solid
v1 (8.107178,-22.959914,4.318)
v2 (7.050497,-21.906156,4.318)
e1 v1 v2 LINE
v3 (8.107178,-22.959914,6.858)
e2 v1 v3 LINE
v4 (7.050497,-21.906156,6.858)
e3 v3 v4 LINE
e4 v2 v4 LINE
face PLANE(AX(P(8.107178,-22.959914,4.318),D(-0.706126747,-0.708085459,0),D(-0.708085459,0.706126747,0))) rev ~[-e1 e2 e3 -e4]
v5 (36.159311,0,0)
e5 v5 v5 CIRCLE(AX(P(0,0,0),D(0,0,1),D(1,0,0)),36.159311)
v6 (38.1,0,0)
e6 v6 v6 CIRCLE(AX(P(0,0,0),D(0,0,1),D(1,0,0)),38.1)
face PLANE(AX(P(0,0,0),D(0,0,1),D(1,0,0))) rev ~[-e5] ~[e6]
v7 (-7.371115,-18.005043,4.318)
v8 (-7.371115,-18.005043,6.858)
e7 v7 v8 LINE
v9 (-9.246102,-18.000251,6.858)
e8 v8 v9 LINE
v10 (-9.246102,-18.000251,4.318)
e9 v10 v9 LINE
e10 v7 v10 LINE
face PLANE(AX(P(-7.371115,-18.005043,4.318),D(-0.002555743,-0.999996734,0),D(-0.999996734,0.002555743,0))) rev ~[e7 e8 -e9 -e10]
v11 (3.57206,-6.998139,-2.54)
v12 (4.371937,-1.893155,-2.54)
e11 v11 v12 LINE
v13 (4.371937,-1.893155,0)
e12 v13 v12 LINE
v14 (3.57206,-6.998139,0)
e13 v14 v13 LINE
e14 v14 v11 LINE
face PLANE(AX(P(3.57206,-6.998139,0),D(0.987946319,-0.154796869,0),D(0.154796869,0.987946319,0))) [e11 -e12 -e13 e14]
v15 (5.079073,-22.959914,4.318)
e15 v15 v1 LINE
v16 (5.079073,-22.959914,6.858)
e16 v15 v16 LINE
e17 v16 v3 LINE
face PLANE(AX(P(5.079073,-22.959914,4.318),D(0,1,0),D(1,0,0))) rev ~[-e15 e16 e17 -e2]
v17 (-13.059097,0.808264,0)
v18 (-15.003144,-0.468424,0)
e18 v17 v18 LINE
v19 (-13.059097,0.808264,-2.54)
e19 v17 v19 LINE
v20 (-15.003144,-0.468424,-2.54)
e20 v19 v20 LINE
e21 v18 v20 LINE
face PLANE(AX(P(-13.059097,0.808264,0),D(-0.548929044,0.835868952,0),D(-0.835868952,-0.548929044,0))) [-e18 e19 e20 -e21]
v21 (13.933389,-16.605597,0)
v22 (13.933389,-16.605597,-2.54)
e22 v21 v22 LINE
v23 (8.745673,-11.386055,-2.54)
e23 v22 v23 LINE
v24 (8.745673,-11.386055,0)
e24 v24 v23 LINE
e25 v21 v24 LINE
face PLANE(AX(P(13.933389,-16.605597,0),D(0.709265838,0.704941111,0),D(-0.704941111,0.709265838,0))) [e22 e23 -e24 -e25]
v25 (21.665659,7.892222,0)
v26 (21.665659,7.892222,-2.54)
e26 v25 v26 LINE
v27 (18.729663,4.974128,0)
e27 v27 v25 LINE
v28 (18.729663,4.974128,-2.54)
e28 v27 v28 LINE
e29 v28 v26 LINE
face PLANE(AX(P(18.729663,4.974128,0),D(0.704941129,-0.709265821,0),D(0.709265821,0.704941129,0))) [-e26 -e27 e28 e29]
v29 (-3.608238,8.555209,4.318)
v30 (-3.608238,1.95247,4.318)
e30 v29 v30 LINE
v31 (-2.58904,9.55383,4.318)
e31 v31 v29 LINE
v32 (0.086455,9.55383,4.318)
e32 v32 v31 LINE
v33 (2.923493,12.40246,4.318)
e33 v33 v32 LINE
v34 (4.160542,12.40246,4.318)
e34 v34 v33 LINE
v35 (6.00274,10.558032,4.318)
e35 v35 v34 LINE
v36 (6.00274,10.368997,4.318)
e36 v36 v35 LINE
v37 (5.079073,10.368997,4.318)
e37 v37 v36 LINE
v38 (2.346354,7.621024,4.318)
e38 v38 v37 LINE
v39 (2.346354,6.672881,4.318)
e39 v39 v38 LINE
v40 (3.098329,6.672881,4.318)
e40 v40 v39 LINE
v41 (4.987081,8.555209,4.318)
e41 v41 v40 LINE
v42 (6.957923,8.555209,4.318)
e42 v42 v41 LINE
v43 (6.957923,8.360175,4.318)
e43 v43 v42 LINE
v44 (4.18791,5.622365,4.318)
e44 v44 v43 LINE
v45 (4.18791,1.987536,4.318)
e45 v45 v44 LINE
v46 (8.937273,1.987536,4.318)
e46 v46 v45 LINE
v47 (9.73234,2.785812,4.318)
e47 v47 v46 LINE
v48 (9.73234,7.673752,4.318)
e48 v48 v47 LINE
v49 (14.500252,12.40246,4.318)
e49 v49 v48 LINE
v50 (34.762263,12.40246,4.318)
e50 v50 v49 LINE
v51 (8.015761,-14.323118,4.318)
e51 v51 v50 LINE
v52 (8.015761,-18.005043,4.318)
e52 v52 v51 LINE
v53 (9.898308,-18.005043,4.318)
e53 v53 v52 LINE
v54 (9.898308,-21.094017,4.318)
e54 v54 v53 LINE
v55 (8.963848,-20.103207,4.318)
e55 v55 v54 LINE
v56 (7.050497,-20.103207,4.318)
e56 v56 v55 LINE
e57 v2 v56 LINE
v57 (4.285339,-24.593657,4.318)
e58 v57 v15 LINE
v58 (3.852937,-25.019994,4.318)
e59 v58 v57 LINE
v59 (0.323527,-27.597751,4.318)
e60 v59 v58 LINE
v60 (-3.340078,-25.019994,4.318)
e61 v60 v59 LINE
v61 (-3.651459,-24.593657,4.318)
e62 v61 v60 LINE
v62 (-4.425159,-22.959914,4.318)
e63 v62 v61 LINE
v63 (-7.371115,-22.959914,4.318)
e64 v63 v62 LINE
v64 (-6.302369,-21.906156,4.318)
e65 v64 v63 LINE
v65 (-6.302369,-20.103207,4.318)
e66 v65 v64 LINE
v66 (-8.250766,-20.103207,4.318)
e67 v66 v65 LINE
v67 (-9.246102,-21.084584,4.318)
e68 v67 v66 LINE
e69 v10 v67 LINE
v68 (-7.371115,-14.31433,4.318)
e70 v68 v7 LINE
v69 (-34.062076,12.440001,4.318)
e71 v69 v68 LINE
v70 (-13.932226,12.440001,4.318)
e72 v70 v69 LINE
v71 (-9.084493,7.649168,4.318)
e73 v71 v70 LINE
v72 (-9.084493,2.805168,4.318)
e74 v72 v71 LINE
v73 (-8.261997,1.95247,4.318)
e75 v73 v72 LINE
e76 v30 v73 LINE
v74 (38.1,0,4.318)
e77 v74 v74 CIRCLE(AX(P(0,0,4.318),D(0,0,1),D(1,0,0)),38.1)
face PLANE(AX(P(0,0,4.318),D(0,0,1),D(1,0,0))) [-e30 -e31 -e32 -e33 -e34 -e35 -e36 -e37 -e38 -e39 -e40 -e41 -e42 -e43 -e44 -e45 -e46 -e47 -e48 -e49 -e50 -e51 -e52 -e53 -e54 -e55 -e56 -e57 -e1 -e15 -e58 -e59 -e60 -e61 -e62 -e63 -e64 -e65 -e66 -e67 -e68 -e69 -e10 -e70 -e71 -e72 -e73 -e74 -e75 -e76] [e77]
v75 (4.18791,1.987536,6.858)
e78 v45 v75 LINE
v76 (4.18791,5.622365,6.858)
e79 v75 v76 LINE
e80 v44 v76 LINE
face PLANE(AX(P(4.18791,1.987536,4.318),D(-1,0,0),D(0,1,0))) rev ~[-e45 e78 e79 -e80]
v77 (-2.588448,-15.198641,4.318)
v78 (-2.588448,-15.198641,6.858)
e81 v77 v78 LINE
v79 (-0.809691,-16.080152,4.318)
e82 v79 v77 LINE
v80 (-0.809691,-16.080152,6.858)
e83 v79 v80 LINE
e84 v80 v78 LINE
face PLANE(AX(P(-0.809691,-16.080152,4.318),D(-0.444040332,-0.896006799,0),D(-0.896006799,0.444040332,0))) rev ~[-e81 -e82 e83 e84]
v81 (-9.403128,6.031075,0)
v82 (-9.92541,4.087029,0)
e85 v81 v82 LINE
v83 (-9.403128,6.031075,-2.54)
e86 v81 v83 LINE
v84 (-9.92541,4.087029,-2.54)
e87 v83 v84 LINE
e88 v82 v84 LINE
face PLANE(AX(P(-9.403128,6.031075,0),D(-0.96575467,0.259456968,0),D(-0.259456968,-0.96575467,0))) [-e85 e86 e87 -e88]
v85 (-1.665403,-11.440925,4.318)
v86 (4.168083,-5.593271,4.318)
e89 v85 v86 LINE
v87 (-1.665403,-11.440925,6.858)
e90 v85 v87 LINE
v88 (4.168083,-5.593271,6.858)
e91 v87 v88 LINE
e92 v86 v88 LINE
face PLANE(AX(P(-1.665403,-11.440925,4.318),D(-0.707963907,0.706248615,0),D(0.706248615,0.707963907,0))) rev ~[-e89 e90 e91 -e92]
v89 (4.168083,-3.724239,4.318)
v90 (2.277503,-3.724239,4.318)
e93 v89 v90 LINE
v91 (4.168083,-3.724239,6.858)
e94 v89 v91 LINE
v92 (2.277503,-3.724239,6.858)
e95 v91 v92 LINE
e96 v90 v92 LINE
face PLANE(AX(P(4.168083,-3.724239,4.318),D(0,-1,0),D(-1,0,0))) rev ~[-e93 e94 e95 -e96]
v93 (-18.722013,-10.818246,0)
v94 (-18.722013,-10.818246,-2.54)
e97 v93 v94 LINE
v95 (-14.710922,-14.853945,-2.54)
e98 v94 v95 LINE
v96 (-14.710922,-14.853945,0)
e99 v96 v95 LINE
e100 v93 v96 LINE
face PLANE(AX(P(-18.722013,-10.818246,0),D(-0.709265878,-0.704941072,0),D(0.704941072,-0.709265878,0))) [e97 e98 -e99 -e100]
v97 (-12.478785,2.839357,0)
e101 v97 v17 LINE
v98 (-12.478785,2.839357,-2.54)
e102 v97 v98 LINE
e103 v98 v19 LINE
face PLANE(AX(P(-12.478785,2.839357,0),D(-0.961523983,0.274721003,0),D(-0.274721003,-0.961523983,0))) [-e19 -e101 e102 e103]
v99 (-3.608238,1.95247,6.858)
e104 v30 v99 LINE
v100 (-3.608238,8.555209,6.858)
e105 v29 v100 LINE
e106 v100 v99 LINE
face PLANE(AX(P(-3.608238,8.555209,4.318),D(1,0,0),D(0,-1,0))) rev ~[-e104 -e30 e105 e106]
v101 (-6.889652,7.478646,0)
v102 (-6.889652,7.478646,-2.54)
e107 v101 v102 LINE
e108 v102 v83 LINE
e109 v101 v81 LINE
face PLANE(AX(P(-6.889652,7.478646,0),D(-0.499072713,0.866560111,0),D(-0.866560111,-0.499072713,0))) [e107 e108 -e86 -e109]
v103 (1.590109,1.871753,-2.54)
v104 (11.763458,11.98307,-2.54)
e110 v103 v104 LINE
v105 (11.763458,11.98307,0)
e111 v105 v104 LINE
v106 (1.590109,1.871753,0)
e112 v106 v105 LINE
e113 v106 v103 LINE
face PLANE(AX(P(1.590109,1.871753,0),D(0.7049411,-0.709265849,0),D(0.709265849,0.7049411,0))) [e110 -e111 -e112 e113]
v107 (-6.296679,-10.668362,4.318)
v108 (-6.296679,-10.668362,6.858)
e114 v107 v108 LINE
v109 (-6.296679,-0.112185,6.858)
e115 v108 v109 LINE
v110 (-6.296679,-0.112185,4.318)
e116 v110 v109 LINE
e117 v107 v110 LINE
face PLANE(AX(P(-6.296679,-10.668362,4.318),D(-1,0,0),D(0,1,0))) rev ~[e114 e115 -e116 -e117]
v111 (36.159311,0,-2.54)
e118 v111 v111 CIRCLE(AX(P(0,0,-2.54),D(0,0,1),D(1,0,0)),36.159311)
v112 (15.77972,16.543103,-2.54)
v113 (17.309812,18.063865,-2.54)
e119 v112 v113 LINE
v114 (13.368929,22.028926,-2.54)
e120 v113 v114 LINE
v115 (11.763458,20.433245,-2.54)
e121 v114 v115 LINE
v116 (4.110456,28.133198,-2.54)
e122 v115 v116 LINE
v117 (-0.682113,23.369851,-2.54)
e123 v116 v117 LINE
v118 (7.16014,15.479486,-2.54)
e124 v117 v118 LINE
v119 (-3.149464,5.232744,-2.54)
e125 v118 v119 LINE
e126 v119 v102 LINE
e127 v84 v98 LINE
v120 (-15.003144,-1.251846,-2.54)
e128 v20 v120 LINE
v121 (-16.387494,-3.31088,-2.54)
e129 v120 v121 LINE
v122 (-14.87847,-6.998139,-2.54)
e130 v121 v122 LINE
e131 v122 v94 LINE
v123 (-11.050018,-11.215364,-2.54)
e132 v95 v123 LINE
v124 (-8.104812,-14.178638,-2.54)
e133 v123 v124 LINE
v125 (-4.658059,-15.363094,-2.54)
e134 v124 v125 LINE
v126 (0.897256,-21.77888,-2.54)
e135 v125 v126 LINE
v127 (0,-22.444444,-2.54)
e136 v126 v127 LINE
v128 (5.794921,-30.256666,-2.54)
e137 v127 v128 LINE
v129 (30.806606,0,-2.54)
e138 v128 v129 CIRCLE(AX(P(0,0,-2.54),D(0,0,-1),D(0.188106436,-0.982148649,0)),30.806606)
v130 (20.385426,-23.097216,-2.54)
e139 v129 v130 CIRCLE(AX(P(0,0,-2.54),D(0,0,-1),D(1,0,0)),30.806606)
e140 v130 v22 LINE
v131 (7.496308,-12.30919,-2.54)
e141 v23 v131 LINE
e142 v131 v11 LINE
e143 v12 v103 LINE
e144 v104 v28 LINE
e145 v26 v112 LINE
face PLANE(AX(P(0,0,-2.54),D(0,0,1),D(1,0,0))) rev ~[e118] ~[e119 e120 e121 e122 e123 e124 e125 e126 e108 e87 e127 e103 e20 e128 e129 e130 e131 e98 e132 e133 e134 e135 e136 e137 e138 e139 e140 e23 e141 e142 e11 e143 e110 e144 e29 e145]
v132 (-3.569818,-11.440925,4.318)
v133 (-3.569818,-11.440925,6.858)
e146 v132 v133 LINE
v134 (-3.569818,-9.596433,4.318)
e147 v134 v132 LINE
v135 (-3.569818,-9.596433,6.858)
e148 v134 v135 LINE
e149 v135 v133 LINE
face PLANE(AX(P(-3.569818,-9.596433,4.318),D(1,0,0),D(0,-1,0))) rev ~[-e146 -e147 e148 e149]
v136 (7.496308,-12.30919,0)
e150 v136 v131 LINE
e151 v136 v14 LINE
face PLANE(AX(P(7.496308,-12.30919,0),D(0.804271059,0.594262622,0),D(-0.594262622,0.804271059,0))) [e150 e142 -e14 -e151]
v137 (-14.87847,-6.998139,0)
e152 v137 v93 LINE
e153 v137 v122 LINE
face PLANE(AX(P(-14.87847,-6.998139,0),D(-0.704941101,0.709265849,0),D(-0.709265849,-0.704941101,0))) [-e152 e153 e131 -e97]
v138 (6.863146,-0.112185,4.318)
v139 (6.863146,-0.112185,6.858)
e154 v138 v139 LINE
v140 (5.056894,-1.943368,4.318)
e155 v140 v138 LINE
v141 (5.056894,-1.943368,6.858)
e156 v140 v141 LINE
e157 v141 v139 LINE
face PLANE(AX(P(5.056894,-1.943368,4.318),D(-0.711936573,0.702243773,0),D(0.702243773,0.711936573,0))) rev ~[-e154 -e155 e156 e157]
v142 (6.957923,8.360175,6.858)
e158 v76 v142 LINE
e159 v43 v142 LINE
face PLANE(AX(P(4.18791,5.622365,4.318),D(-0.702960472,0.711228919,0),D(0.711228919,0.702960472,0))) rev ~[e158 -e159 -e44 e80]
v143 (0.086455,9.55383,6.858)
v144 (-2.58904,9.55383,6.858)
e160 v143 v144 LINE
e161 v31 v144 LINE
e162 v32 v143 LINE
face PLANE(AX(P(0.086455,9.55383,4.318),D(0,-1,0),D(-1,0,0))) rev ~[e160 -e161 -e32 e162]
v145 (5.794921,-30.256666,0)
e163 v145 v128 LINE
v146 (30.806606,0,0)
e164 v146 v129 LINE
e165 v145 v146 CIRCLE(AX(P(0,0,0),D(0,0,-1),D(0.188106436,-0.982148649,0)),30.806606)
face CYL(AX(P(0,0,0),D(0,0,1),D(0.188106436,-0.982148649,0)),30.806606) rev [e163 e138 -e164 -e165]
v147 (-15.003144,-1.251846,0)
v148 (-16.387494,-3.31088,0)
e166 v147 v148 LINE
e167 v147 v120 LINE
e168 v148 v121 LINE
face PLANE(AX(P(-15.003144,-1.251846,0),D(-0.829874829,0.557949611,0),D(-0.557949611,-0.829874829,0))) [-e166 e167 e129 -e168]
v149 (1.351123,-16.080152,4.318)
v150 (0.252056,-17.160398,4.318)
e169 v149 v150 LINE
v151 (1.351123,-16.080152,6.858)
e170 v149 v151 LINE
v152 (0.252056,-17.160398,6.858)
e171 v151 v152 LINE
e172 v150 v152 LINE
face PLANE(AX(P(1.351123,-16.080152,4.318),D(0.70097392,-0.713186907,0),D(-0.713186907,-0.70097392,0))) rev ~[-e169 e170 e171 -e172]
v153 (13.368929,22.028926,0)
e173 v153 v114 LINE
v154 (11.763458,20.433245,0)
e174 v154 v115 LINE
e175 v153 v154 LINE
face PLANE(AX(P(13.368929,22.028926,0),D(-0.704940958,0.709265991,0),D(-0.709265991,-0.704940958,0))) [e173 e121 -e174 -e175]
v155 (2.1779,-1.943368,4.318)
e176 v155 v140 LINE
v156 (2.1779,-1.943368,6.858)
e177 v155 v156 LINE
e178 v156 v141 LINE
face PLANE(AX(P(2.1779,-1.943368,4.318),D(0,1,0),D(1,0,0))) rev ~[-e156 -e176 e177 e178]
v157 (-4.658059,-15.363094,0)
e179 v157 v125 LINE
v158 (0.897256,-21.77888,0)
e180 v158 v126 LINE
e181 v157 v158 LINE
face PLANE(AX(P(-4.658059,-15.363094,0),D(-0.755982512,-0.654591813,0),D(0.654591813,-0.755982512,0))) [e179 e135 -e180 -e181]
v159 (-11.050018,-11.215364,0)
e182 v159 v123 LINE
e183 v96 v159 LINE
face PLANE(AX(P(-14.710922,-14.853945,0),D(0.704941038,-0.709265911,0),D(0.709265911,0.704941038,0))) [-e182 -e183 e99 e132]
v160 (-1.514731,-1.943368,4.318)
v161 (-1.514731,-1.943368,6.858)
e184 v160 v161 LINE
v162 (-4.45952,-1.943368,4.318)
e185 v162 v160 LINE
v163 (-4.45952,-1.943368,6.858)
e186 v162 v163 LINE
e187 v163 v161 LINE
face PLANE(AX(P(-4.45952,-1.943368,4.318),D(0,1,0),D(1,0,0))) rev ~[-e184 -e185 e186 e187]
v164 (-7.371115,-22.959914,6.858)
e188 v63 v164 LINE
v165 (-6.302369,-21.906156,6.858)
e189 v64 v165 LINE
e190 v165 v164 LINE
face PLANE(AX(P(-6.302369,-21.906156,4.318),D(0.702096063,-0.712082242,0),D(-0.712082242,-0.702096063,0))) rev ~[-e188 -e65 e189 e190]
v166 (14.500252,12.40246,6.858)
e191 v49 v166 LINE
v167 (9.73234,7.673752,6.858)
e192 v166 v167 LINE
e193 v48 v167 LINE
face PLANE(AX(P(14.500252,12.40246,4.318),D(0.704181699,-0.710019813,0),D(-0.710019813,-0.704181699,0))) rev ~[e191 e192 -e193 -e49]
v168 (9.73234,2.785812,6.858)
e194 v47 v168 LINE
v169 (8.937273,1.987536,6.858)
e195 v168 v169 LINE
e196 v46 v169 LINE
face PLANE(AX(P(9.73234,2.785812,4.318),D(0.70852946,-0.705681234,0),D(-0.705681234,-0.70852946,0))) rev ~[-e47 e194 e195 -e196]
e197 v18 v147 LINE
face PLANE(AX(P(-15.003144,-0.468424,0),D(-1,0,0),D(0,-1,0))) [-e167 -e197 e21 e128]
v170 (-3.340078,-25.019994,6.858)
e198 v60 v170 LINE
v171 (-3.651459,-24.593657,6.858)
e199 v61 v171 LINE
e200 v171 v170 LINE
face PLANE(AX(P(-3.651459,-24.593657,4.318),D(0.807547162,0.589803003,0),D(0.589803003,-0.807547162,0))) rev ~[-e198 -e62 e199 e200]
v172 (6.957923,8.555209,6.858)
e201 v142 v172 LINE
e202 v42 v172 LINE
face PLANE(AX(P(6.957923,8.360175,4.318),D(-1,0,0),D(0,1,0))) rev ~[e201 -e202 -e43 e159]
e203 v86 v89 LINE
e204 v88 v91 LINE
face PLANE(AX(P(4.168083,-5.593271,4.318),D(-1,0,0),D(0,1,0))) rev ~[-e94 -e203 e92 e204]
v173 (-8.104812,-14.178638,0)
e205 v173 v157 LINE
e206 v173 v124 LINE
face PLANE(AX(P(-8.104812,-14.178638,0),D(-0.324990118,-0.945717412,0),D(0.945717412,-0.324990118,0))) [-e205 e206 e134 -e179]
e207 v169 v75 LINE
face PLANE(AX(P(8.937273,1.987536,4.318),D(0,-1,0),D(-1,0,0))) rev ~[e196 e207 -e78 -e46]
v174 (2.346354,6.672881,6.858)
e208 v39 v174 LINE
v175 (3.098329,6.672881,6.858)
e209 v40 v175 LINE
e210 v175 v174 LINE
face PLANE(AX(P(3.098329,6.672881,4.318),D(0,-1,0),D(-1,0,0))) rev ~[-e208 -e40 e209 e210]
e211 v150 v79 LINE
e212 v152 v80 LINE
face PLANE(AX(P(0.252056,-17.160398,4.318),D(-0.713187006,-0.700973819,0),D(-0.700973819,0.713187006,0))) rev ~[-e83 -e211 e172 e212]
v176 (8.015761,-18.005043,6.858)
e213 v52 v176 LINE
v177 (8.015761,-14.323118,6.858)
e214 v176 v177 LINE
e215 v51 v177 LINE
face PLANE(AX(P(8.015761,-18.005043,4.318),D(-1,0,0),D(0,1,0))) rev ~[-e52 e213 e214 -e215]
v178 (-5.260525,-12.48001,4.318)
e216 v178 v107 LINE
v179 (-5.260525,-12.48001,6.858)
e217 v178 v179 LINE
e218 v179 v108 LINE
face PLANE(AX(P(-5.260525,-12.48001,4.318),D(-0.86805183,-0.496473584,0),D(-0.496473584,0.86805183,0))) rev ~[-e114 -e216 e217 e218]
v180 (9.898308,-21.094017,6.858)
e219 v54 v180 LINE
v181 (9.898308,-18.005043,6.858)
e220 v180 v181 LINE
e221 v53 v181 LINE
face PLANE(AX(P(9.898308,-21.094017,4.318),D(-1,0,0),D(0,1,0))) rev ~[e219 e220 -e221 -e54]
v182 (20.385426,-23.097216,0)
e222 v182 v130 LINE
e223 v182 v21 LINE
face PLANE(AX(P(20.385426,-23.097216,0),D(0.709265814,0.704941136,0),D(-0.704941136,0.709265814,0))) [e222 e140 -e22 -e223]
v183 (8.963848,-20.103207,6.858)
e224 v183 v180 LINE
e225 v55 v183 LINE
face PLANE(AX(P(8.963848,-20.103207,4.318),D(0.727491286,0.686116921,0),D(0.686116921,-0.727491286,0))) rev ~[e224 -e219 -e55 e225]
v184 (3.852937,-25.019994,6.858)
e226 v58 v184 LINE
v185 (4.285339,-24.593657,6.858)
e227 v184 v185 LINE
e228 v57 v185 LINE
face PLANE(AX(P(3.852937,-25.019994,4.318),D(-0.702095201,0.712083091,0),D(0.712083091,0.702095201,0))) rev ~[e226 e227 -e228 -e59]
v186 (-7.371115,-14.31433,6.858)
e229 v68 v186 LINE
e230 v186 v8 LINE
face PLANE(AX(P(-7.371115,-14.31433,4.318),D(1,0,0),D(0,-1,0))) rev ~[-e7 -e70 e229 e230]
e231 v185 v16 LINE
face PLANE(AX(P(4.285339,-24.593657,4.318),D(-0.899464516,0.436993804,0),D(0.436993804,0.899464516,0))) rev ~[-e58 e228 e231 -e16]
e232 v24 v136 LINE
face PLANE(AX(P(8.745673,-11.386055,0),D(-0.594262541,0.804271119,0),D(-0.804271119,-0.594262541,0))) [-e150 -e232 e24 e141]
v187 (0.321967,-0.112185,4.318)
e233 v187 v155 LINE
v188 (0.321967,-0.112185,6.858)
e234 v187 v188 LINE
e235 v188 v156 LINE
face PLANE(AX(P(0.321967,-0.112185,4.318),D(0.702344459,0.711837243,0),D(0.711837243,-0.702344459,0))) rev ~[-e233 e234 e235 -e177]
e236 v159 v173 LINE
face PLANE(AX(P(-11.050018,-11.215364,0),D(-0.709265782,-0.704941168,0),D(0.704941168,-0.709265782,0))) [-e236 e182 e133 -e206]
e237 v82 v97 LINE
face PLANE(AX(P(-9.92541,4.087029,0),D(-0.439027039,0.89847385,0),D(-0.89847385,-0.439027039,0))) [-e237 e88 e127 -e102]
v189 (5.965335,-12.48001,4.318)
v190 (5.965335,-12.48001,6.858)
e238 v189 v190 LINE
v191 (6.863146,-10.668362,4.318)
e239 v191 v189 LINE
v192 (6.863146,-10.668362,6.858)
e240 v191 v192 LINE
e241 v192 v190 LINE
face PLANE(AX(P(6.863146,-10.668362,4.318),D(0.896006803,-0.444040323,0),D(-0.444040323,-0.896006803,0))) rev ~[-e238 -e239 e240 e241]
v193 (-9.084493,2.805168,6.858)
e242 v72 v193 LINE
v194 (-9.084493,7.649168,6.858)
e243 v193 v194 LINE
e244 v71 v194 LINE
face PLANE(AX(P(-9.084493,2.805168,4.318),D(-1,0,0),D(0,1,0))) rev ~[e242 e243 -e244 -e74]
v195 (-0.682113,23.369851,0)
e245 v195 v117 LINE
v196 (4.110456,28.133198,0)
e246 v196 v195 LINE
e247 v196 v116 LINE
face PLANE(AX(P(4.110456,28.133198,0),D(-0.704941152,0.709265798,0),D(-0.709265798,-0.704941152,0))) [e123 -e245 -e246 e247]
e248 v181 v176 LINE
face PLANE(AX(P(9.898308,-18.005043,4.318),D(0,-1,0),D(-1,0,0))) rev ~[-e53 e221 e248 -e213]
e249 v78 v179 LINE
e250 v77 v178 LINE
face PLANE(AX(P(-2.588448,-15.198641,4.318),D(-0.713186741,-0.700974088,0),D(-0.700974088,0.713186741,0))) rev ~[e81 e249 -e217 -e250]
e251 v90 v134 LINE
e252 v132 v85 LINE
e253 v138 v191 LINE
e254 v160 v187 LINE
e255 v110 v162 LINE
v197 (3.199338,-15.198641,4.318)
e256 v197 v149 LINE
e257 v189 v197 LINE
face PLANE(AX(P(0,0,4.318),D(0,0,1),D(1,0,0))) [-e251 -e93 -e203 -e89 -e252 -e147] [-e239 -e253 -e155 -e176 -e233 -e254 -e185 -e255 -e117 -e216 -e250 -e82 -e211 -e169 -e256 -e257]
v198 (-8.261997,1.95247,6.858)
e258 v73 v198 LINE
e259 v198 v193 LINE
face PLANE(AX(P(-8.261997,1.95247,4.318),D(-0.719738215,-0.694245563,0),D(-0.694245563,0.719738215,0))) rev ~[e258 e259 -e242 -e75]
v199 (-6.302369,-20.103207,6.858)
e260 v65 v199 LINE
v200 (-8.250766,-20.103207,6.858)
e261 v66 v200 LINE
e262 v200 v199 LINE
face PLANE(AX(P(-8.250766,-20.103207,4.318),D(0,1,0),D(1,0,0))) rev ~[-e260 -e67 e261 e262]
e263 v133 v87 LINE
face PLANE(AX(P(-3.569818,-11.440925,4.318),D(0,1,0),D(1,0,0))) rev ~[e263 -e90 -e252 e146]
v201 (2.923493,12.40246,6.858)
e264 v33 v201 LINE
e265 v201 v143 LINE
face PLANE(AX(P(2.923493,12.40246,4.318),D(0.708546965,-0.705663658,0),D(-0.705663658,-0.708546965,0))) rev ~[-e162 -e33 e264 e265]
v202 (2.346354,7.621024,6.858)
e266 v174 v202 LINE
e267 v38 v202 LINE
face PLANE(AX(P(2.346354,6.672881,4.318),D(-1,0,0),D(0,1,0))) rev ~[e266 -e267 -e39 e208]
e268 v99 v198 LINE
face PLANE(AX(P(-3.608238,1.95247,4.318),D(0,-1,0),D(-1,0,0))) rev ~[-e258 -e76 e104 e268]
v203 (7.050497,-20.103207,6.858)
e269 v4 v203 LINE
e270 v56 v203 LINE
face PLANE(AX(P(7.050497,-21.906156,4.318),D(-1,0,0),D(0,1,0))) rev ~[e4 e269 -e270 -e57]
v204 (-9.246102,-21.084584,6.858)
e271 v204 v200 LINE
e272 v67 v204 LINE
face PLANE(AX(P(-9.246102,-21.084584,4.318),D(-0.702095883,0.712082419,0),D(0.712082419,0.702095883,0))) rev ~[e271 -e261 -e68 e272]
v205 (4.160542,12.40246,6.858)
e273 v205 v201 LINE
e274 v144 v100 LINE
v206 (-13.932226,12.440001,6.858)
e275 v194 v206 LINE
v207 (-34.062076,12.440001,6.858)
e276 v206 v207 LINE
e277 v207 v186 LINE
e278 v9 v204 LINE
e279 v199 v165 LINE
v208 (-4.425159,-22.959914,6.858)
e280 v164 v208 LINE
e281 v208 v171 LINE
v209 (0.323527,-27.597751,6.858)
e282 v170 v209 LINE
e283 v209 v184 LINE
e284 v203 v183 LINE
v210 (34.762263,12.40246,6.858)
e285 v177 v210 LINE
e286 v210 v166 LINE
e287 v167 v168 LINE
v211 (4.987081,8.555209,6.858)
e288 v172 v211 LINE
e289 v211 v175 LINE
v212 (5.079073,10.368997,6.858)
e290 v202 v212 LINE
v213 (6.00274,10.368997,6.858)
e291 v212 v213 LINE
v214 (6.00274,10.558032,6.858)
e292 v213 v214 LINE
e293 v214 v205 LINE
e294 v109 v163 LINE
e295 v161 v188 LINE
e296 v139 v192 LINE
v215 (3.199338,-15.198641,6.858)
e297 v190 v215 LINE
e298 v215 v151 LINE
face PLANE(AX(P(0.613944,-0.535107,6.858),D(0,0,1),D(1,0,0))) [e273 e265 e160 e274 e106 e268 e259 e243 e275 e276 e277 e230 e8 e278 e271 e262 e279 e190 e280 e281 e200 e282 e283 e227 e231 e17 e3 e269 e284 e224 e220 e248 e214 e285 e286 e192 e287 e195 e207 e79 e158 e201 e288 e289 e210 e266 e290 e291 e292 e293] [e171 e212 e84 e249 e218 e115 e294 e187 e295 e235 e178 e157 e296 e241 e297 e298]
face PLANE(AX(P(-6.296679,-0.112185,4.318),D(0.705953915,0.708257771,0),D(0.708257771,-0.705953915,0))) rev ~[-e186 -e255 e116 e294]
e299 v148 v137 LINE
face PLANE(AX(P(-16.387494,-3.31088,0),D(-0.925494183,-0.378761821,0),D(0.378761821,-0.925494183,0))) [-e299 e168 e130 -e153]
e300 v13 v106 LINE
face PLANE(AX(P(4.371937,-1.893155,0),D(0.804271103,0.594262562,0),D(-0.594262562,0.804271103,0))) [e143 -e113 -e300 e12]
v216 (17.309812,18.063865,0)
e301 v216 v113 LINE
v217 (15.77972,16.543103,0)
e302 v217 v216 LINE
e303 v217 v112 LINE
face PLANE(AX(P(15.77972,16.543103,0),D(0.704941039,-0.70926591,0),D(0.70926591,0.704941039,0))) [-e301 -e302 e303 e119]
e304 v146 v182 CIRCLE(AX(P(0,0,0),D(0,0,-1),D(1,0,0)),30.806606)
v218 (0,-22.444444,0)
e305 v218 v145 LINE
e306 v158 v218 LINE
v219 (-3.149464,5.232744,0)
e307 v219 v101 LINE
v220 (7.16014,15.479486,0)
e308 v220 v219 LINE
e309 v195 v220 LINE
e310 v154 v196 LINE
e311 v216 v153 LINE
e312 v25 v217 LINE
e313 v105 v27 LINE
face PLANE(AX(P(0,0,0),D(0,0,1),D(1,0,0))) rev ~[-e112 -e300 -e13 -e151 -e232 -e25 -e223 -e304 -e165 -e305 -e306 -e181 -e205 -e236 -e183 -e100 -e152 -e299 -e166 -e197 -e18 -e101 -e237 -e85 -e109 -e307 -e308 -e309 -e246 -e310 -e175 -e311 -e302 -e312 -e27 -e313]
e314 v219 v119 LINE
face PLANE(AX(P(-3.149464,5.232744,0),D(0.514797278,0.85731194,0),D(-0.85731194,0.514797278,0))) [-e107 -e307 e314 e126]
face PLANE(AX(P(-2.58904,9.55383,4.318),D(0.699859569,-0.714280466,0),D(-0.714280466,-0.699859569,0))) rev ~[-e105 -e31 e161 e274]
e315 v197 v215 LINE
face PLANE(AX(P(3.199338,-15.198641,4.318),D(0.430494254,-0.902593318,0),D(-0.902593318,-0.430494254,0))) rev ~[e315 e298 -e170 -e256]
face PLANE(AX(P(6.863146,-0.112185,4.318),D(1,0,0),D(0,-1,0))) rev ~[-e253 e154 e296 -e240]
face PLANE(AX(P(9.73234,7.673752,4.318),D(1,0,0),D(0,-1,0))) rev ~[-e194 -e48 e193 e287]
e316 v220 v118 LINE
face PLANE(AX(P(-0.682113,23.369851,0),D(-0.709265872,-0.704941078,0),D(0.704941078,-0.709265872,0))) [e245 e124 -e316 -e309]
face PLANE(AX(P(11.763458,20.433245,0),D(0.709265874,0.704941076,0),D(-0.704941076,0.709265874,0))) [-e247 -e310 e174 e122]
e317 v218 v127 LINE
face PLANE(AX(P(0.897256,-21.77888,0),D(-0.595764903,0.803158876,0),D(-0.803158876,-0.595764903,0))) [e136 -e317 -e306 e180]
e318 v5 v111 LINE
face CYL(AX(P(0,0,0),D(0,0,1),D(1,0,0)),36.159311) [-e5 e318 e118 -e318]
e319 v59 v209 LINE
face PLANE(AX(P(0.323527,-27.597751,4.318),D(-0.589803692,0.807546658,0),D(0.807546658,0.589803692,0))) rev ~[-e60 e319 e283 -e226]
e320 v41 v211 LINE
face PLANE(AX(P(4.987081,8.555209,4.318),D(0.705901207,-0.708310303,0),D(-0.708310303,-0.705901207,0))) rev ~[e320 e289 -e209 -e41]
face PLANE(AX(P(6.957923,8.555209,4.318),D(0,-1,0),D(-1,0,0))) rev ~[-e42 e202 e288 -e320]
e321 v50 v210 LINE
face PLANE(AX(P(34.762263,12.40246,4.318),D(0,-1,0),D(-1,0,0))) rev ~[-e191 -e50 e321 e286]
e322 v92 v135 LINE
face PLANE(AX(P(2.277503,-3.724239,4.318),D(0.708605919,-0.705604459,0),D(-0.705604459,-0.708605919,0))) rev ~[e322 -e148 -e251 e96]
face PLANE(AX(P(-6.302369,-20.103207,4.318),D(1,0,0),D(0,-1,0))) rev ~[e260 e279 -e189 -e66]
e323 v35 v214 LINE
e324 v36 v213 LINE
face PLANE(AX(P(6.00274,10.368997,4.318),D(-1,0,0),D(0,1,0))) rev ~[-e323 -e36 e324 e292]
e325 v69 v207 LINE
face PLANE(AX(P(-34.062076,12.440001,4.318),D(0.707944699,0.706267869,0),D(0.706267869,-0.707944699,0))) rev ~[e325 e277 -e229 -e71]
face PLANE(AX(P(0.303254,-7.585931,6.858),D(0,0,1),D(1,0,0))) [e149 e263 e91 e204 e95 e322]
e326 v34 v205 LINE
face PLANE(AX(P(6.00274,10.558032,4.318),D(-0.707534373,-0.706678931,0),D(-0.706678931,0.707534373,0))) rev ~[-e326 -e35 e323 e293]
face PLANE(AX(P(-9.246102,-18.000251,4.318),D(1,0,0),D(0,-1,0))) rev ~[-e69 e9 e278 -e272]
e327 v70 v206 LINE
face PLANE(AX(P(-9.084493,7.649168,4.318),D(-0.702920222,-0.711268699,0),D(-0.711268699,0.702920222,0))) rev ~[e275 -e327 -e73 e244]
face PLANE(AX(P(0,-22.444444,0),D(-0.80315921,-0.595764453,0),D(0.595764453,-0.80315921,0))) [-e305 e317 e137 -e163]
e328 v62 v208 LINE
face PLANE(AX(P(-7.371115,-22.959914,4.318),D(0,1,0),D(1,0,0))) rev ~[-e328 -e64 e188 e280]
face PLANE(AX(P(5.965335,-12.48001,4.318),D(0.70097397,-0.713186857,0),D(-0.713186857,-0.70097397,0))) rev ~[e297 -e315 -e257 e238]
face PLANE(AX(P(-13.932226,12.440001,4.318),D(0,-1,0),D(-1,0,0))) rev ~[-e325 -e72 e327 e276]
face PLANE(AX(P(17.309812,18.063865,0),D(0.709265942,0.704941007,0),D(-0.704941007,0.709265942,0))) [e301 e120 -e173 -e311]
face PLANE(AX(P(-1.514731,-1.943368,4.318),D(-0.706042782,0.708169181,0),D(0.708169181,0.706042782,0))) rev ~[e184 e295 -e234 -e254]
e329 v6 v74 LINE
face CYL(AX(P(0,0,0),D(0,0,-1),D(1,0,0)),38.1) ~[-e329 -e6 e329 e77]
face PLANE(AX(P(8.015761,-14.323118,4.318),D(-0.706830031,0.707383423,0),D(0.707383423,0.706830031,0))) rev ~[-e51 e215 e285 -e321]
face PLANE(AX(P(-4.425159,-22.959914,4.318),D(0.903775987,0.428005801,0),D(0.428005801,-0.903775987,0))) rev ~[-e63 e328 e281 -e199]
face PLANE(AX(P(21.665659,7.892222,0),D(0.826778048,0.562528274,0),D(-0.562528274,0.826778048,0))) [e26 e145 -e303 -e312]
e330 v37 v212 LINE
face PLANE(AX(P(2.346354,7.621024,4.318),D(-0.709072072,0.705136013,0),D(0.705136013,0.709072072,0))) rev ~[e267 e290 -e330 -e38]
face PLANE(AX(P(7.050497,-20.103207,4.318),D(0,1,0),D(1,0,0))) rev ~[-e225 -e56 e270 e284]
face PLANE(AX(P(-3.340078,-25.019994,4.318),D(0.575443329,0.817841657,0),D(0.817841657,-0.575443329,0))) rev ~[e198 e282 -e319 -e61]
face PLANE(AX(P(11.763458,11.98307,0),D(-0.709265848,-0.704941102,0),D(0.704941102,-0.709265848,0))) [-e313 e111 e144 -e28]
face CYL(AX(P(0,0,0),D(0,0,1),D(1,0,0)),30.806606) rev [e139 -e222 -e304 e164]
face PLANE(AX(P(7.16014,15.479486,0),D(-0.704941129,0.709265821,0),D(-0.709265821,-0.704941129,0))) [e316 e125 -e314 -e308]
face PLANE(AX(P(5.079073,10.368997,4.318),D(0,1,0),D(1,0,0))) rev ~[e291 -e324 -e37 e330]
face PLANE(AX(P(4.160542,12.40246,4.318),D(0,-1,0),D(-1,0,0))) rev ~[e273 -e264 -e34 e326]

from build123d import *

# Parameters (mm, degrees)
F0_R     = 38.1
F1_DEPTH = 4.318
F3_DEPTH = 2.54
F4_R     = 36.159311
F5_DEPTH = 2.54


with BuildPart() as f1:
    # F0 (on Top) → F1 (new body)
    with BuildSketch(Plane.XY):
        Circle(F0_R)
    extrude(amount=F1_DEPTH)

    # F2 (on face) → F3 (join)
    with BuildSketch(Plane.XY.offset(4.318)):
        Polygon((-34.062076, 12.440001), (-7.371115, -14.31433), (-7.371115, -18.005043), (-9.246102, -18.000251), (-9.246102, -21.084584), (-8.250766, -20.103207), (-6.302369, -20.103207), (-6.302369, -21.906156), (-7.371115, -22.959914), (-4.425159, -22.959914), (-3.651459, -24.593657), (-3.340078, -25.019994), (0.323527, -27.597751), (3.852937, -25.019994), (4.285339, -24.593657), (5.079073, -22.959914), (8.107178, -22.959914), (7.050497, -21.906156), (7.050497, -20.103207), (8.963848, -20.103207), (9.898308, -21.094017), (9.898308, -18.005043), (8.015761, -18.005043), (8.015761, -14.323118), (34.762263, 12.40246), (14.500252, 12.40246), (9.73234, 7.673752), (9.73234, 2.785812), (8.937273, 1.987536), (4.18791, 1.987536), (4.18791, 5.622365), (6.957923, 8.360175), (6.957923, 8.555209), (4.987081, 8.555209), (3.098329, 6.672881), (2.346354, 6.672881), (2.346354, 7.621024), (5.079073, 10.368997), (6.00274, 10.368997), (6.00274, 10.558032), (4.160542, 12.40246), (2.923493, 12.40246), (0.086455, 9.55383), (-2.58904, 9.55383), (-3.608238, 8.555209), (-3.608238, 1.95247), (-8.261997, 1.95247), (-9.084493, 2.805168), (-9.084493, 7.649168), (-13.932226, 12.440001), align=None)
        Polygon((-6.296679, -10.668362), (-6.296679, -0.112185), (-4.45952, -1.943368), (-1.514731, -1.943368), (0.321967, -0.112185), (2.1779, -1.943368), (5.056894, -1.943368), (6.863146, -0.112185), (6.863146, -10.668362), (5.965335, -12.48001), (3.199338, -15.198641), (1.351123, -16.080152), (0.252056, -17.160398), (-0.809691, -16.080152), (-2.588448, -15.198641), (-5.260525, -12.48001), align=None, mode=Mode.SUBTRACT)
        Polygon((-1.665403, -11.440925), (4.168083, -5.593271), (4.168083, -3.724239), (2.277503, -3.724239), (-3.569818, -9.596433), (-3.569818, -11.440925), align=None)
    extrude(amount=F3_DEPTH)

    # F4 (on Top) → F5 (join)
    with BuildSketch(Plane.XY):
        Circle(F4_R)
        with BuildLine():
            ThreePointArc((5.794921, -30.256666), (-23.744145, 19.628106), (30.806606, 0))
            ThreePointArc((30.806606, 0), (28.080712, -12.669672), (20.385426, -23.097216))
            ThreePointArc((20.385426, -23.097216), (13.570817, -27.656462), (5.794921, -30.256666))
        make_face(mode=Mode.SUBTRACT)
        with BuildLine():
            Line((0, -22.444444), (5.794921, -30.256666))
            ThreePointArc((5.794921, -30.256666), (13.570817, -27.656462), (20.385426, -23.097216))
            Line((20.385426, -23.097216), (13.933389, -16.605597))
            Line((13.933389, -16.605597), (8.745673, -11.386055))
            Line((8.745673, -11.386055), (7.496308, -12.30919))
            Line((7.496308, -12.30919), (3.57206, -6.998139))
            Line((3.57206, -6.998139), (4.371937, -1.893155))
            Line((4.371937, -1.893155), (1.590109, 1.871753))
            Line((1.590109, 1.871753), (11.763458, 11.98307))
            Line((11.763458, 11.98307), (18.729663, 4.974128))
            Line((18.729663, 4.974128), (21.665659, 7.892222))
            Line((21.665659, 7.892222), (15.77972, 16.543103))
            Line((15.77972, 16.543103), (17.309812, 18.063865))
            Line((17.309812, 18.063865), (13.368929, 22.028926))
            Line((13.368929, 22.028926), (11.763458, 20.433245))
            Line((11.763458, 20.433245), (4.110456, 28.133198))
            Line((4.110456, 28.133198), (-0.682113, 23.369851))
            Line((-0.682113, 23.369851), (7.16014, 15.479486))
            Line((7.16014, 15.479486), (-3.149464, 5.232744))
            Line((-3.149464, 5.232744), (-6.889652, 7.478646))
            Line((-6.889652, 7.478646), (-9.403128, 6.031075))
            Line((-9.403128, 6.031075), (-9.92541, 4.087029))
            Line((-9.92541, 4.087029), (-12.478785, 2.839357))
            Line((-12.478785, 2.839357), (-13.059097, 0.808264))
            Line((-13.059097, 0.808264), (-15.003144, -0.468424))
            Line((-15.003144, -0.468424), (-15.003144, -1.251846))
            Line((-15.003144, -1.251846), (-16.387494, -3.31088))
            Line((-16.387494, -3.31088), (-14.87847, -6.998139))
            Line((-14.87847, -6.998139), (-18.722013, -10.818246))
            Line((-18.722013, -10.818246), (-14.710922, -14.853945))
            Line((-14.710922, -14.853945), (-11.050018, -11.215364))
            Line((-11.050018, -11.215364), (-8.104812, -14.178638))
            Line((-8.104812, -14.178638), (-4.658059, -15.363094))
            Line((-4.658059, -15.363094), (0.897256, -21.77888))
            Line((0.897256, -21.77888), (0, -22.444444))
        make_face()
    extrude(amount=-F5_DEPTH)


solid = f1.part
